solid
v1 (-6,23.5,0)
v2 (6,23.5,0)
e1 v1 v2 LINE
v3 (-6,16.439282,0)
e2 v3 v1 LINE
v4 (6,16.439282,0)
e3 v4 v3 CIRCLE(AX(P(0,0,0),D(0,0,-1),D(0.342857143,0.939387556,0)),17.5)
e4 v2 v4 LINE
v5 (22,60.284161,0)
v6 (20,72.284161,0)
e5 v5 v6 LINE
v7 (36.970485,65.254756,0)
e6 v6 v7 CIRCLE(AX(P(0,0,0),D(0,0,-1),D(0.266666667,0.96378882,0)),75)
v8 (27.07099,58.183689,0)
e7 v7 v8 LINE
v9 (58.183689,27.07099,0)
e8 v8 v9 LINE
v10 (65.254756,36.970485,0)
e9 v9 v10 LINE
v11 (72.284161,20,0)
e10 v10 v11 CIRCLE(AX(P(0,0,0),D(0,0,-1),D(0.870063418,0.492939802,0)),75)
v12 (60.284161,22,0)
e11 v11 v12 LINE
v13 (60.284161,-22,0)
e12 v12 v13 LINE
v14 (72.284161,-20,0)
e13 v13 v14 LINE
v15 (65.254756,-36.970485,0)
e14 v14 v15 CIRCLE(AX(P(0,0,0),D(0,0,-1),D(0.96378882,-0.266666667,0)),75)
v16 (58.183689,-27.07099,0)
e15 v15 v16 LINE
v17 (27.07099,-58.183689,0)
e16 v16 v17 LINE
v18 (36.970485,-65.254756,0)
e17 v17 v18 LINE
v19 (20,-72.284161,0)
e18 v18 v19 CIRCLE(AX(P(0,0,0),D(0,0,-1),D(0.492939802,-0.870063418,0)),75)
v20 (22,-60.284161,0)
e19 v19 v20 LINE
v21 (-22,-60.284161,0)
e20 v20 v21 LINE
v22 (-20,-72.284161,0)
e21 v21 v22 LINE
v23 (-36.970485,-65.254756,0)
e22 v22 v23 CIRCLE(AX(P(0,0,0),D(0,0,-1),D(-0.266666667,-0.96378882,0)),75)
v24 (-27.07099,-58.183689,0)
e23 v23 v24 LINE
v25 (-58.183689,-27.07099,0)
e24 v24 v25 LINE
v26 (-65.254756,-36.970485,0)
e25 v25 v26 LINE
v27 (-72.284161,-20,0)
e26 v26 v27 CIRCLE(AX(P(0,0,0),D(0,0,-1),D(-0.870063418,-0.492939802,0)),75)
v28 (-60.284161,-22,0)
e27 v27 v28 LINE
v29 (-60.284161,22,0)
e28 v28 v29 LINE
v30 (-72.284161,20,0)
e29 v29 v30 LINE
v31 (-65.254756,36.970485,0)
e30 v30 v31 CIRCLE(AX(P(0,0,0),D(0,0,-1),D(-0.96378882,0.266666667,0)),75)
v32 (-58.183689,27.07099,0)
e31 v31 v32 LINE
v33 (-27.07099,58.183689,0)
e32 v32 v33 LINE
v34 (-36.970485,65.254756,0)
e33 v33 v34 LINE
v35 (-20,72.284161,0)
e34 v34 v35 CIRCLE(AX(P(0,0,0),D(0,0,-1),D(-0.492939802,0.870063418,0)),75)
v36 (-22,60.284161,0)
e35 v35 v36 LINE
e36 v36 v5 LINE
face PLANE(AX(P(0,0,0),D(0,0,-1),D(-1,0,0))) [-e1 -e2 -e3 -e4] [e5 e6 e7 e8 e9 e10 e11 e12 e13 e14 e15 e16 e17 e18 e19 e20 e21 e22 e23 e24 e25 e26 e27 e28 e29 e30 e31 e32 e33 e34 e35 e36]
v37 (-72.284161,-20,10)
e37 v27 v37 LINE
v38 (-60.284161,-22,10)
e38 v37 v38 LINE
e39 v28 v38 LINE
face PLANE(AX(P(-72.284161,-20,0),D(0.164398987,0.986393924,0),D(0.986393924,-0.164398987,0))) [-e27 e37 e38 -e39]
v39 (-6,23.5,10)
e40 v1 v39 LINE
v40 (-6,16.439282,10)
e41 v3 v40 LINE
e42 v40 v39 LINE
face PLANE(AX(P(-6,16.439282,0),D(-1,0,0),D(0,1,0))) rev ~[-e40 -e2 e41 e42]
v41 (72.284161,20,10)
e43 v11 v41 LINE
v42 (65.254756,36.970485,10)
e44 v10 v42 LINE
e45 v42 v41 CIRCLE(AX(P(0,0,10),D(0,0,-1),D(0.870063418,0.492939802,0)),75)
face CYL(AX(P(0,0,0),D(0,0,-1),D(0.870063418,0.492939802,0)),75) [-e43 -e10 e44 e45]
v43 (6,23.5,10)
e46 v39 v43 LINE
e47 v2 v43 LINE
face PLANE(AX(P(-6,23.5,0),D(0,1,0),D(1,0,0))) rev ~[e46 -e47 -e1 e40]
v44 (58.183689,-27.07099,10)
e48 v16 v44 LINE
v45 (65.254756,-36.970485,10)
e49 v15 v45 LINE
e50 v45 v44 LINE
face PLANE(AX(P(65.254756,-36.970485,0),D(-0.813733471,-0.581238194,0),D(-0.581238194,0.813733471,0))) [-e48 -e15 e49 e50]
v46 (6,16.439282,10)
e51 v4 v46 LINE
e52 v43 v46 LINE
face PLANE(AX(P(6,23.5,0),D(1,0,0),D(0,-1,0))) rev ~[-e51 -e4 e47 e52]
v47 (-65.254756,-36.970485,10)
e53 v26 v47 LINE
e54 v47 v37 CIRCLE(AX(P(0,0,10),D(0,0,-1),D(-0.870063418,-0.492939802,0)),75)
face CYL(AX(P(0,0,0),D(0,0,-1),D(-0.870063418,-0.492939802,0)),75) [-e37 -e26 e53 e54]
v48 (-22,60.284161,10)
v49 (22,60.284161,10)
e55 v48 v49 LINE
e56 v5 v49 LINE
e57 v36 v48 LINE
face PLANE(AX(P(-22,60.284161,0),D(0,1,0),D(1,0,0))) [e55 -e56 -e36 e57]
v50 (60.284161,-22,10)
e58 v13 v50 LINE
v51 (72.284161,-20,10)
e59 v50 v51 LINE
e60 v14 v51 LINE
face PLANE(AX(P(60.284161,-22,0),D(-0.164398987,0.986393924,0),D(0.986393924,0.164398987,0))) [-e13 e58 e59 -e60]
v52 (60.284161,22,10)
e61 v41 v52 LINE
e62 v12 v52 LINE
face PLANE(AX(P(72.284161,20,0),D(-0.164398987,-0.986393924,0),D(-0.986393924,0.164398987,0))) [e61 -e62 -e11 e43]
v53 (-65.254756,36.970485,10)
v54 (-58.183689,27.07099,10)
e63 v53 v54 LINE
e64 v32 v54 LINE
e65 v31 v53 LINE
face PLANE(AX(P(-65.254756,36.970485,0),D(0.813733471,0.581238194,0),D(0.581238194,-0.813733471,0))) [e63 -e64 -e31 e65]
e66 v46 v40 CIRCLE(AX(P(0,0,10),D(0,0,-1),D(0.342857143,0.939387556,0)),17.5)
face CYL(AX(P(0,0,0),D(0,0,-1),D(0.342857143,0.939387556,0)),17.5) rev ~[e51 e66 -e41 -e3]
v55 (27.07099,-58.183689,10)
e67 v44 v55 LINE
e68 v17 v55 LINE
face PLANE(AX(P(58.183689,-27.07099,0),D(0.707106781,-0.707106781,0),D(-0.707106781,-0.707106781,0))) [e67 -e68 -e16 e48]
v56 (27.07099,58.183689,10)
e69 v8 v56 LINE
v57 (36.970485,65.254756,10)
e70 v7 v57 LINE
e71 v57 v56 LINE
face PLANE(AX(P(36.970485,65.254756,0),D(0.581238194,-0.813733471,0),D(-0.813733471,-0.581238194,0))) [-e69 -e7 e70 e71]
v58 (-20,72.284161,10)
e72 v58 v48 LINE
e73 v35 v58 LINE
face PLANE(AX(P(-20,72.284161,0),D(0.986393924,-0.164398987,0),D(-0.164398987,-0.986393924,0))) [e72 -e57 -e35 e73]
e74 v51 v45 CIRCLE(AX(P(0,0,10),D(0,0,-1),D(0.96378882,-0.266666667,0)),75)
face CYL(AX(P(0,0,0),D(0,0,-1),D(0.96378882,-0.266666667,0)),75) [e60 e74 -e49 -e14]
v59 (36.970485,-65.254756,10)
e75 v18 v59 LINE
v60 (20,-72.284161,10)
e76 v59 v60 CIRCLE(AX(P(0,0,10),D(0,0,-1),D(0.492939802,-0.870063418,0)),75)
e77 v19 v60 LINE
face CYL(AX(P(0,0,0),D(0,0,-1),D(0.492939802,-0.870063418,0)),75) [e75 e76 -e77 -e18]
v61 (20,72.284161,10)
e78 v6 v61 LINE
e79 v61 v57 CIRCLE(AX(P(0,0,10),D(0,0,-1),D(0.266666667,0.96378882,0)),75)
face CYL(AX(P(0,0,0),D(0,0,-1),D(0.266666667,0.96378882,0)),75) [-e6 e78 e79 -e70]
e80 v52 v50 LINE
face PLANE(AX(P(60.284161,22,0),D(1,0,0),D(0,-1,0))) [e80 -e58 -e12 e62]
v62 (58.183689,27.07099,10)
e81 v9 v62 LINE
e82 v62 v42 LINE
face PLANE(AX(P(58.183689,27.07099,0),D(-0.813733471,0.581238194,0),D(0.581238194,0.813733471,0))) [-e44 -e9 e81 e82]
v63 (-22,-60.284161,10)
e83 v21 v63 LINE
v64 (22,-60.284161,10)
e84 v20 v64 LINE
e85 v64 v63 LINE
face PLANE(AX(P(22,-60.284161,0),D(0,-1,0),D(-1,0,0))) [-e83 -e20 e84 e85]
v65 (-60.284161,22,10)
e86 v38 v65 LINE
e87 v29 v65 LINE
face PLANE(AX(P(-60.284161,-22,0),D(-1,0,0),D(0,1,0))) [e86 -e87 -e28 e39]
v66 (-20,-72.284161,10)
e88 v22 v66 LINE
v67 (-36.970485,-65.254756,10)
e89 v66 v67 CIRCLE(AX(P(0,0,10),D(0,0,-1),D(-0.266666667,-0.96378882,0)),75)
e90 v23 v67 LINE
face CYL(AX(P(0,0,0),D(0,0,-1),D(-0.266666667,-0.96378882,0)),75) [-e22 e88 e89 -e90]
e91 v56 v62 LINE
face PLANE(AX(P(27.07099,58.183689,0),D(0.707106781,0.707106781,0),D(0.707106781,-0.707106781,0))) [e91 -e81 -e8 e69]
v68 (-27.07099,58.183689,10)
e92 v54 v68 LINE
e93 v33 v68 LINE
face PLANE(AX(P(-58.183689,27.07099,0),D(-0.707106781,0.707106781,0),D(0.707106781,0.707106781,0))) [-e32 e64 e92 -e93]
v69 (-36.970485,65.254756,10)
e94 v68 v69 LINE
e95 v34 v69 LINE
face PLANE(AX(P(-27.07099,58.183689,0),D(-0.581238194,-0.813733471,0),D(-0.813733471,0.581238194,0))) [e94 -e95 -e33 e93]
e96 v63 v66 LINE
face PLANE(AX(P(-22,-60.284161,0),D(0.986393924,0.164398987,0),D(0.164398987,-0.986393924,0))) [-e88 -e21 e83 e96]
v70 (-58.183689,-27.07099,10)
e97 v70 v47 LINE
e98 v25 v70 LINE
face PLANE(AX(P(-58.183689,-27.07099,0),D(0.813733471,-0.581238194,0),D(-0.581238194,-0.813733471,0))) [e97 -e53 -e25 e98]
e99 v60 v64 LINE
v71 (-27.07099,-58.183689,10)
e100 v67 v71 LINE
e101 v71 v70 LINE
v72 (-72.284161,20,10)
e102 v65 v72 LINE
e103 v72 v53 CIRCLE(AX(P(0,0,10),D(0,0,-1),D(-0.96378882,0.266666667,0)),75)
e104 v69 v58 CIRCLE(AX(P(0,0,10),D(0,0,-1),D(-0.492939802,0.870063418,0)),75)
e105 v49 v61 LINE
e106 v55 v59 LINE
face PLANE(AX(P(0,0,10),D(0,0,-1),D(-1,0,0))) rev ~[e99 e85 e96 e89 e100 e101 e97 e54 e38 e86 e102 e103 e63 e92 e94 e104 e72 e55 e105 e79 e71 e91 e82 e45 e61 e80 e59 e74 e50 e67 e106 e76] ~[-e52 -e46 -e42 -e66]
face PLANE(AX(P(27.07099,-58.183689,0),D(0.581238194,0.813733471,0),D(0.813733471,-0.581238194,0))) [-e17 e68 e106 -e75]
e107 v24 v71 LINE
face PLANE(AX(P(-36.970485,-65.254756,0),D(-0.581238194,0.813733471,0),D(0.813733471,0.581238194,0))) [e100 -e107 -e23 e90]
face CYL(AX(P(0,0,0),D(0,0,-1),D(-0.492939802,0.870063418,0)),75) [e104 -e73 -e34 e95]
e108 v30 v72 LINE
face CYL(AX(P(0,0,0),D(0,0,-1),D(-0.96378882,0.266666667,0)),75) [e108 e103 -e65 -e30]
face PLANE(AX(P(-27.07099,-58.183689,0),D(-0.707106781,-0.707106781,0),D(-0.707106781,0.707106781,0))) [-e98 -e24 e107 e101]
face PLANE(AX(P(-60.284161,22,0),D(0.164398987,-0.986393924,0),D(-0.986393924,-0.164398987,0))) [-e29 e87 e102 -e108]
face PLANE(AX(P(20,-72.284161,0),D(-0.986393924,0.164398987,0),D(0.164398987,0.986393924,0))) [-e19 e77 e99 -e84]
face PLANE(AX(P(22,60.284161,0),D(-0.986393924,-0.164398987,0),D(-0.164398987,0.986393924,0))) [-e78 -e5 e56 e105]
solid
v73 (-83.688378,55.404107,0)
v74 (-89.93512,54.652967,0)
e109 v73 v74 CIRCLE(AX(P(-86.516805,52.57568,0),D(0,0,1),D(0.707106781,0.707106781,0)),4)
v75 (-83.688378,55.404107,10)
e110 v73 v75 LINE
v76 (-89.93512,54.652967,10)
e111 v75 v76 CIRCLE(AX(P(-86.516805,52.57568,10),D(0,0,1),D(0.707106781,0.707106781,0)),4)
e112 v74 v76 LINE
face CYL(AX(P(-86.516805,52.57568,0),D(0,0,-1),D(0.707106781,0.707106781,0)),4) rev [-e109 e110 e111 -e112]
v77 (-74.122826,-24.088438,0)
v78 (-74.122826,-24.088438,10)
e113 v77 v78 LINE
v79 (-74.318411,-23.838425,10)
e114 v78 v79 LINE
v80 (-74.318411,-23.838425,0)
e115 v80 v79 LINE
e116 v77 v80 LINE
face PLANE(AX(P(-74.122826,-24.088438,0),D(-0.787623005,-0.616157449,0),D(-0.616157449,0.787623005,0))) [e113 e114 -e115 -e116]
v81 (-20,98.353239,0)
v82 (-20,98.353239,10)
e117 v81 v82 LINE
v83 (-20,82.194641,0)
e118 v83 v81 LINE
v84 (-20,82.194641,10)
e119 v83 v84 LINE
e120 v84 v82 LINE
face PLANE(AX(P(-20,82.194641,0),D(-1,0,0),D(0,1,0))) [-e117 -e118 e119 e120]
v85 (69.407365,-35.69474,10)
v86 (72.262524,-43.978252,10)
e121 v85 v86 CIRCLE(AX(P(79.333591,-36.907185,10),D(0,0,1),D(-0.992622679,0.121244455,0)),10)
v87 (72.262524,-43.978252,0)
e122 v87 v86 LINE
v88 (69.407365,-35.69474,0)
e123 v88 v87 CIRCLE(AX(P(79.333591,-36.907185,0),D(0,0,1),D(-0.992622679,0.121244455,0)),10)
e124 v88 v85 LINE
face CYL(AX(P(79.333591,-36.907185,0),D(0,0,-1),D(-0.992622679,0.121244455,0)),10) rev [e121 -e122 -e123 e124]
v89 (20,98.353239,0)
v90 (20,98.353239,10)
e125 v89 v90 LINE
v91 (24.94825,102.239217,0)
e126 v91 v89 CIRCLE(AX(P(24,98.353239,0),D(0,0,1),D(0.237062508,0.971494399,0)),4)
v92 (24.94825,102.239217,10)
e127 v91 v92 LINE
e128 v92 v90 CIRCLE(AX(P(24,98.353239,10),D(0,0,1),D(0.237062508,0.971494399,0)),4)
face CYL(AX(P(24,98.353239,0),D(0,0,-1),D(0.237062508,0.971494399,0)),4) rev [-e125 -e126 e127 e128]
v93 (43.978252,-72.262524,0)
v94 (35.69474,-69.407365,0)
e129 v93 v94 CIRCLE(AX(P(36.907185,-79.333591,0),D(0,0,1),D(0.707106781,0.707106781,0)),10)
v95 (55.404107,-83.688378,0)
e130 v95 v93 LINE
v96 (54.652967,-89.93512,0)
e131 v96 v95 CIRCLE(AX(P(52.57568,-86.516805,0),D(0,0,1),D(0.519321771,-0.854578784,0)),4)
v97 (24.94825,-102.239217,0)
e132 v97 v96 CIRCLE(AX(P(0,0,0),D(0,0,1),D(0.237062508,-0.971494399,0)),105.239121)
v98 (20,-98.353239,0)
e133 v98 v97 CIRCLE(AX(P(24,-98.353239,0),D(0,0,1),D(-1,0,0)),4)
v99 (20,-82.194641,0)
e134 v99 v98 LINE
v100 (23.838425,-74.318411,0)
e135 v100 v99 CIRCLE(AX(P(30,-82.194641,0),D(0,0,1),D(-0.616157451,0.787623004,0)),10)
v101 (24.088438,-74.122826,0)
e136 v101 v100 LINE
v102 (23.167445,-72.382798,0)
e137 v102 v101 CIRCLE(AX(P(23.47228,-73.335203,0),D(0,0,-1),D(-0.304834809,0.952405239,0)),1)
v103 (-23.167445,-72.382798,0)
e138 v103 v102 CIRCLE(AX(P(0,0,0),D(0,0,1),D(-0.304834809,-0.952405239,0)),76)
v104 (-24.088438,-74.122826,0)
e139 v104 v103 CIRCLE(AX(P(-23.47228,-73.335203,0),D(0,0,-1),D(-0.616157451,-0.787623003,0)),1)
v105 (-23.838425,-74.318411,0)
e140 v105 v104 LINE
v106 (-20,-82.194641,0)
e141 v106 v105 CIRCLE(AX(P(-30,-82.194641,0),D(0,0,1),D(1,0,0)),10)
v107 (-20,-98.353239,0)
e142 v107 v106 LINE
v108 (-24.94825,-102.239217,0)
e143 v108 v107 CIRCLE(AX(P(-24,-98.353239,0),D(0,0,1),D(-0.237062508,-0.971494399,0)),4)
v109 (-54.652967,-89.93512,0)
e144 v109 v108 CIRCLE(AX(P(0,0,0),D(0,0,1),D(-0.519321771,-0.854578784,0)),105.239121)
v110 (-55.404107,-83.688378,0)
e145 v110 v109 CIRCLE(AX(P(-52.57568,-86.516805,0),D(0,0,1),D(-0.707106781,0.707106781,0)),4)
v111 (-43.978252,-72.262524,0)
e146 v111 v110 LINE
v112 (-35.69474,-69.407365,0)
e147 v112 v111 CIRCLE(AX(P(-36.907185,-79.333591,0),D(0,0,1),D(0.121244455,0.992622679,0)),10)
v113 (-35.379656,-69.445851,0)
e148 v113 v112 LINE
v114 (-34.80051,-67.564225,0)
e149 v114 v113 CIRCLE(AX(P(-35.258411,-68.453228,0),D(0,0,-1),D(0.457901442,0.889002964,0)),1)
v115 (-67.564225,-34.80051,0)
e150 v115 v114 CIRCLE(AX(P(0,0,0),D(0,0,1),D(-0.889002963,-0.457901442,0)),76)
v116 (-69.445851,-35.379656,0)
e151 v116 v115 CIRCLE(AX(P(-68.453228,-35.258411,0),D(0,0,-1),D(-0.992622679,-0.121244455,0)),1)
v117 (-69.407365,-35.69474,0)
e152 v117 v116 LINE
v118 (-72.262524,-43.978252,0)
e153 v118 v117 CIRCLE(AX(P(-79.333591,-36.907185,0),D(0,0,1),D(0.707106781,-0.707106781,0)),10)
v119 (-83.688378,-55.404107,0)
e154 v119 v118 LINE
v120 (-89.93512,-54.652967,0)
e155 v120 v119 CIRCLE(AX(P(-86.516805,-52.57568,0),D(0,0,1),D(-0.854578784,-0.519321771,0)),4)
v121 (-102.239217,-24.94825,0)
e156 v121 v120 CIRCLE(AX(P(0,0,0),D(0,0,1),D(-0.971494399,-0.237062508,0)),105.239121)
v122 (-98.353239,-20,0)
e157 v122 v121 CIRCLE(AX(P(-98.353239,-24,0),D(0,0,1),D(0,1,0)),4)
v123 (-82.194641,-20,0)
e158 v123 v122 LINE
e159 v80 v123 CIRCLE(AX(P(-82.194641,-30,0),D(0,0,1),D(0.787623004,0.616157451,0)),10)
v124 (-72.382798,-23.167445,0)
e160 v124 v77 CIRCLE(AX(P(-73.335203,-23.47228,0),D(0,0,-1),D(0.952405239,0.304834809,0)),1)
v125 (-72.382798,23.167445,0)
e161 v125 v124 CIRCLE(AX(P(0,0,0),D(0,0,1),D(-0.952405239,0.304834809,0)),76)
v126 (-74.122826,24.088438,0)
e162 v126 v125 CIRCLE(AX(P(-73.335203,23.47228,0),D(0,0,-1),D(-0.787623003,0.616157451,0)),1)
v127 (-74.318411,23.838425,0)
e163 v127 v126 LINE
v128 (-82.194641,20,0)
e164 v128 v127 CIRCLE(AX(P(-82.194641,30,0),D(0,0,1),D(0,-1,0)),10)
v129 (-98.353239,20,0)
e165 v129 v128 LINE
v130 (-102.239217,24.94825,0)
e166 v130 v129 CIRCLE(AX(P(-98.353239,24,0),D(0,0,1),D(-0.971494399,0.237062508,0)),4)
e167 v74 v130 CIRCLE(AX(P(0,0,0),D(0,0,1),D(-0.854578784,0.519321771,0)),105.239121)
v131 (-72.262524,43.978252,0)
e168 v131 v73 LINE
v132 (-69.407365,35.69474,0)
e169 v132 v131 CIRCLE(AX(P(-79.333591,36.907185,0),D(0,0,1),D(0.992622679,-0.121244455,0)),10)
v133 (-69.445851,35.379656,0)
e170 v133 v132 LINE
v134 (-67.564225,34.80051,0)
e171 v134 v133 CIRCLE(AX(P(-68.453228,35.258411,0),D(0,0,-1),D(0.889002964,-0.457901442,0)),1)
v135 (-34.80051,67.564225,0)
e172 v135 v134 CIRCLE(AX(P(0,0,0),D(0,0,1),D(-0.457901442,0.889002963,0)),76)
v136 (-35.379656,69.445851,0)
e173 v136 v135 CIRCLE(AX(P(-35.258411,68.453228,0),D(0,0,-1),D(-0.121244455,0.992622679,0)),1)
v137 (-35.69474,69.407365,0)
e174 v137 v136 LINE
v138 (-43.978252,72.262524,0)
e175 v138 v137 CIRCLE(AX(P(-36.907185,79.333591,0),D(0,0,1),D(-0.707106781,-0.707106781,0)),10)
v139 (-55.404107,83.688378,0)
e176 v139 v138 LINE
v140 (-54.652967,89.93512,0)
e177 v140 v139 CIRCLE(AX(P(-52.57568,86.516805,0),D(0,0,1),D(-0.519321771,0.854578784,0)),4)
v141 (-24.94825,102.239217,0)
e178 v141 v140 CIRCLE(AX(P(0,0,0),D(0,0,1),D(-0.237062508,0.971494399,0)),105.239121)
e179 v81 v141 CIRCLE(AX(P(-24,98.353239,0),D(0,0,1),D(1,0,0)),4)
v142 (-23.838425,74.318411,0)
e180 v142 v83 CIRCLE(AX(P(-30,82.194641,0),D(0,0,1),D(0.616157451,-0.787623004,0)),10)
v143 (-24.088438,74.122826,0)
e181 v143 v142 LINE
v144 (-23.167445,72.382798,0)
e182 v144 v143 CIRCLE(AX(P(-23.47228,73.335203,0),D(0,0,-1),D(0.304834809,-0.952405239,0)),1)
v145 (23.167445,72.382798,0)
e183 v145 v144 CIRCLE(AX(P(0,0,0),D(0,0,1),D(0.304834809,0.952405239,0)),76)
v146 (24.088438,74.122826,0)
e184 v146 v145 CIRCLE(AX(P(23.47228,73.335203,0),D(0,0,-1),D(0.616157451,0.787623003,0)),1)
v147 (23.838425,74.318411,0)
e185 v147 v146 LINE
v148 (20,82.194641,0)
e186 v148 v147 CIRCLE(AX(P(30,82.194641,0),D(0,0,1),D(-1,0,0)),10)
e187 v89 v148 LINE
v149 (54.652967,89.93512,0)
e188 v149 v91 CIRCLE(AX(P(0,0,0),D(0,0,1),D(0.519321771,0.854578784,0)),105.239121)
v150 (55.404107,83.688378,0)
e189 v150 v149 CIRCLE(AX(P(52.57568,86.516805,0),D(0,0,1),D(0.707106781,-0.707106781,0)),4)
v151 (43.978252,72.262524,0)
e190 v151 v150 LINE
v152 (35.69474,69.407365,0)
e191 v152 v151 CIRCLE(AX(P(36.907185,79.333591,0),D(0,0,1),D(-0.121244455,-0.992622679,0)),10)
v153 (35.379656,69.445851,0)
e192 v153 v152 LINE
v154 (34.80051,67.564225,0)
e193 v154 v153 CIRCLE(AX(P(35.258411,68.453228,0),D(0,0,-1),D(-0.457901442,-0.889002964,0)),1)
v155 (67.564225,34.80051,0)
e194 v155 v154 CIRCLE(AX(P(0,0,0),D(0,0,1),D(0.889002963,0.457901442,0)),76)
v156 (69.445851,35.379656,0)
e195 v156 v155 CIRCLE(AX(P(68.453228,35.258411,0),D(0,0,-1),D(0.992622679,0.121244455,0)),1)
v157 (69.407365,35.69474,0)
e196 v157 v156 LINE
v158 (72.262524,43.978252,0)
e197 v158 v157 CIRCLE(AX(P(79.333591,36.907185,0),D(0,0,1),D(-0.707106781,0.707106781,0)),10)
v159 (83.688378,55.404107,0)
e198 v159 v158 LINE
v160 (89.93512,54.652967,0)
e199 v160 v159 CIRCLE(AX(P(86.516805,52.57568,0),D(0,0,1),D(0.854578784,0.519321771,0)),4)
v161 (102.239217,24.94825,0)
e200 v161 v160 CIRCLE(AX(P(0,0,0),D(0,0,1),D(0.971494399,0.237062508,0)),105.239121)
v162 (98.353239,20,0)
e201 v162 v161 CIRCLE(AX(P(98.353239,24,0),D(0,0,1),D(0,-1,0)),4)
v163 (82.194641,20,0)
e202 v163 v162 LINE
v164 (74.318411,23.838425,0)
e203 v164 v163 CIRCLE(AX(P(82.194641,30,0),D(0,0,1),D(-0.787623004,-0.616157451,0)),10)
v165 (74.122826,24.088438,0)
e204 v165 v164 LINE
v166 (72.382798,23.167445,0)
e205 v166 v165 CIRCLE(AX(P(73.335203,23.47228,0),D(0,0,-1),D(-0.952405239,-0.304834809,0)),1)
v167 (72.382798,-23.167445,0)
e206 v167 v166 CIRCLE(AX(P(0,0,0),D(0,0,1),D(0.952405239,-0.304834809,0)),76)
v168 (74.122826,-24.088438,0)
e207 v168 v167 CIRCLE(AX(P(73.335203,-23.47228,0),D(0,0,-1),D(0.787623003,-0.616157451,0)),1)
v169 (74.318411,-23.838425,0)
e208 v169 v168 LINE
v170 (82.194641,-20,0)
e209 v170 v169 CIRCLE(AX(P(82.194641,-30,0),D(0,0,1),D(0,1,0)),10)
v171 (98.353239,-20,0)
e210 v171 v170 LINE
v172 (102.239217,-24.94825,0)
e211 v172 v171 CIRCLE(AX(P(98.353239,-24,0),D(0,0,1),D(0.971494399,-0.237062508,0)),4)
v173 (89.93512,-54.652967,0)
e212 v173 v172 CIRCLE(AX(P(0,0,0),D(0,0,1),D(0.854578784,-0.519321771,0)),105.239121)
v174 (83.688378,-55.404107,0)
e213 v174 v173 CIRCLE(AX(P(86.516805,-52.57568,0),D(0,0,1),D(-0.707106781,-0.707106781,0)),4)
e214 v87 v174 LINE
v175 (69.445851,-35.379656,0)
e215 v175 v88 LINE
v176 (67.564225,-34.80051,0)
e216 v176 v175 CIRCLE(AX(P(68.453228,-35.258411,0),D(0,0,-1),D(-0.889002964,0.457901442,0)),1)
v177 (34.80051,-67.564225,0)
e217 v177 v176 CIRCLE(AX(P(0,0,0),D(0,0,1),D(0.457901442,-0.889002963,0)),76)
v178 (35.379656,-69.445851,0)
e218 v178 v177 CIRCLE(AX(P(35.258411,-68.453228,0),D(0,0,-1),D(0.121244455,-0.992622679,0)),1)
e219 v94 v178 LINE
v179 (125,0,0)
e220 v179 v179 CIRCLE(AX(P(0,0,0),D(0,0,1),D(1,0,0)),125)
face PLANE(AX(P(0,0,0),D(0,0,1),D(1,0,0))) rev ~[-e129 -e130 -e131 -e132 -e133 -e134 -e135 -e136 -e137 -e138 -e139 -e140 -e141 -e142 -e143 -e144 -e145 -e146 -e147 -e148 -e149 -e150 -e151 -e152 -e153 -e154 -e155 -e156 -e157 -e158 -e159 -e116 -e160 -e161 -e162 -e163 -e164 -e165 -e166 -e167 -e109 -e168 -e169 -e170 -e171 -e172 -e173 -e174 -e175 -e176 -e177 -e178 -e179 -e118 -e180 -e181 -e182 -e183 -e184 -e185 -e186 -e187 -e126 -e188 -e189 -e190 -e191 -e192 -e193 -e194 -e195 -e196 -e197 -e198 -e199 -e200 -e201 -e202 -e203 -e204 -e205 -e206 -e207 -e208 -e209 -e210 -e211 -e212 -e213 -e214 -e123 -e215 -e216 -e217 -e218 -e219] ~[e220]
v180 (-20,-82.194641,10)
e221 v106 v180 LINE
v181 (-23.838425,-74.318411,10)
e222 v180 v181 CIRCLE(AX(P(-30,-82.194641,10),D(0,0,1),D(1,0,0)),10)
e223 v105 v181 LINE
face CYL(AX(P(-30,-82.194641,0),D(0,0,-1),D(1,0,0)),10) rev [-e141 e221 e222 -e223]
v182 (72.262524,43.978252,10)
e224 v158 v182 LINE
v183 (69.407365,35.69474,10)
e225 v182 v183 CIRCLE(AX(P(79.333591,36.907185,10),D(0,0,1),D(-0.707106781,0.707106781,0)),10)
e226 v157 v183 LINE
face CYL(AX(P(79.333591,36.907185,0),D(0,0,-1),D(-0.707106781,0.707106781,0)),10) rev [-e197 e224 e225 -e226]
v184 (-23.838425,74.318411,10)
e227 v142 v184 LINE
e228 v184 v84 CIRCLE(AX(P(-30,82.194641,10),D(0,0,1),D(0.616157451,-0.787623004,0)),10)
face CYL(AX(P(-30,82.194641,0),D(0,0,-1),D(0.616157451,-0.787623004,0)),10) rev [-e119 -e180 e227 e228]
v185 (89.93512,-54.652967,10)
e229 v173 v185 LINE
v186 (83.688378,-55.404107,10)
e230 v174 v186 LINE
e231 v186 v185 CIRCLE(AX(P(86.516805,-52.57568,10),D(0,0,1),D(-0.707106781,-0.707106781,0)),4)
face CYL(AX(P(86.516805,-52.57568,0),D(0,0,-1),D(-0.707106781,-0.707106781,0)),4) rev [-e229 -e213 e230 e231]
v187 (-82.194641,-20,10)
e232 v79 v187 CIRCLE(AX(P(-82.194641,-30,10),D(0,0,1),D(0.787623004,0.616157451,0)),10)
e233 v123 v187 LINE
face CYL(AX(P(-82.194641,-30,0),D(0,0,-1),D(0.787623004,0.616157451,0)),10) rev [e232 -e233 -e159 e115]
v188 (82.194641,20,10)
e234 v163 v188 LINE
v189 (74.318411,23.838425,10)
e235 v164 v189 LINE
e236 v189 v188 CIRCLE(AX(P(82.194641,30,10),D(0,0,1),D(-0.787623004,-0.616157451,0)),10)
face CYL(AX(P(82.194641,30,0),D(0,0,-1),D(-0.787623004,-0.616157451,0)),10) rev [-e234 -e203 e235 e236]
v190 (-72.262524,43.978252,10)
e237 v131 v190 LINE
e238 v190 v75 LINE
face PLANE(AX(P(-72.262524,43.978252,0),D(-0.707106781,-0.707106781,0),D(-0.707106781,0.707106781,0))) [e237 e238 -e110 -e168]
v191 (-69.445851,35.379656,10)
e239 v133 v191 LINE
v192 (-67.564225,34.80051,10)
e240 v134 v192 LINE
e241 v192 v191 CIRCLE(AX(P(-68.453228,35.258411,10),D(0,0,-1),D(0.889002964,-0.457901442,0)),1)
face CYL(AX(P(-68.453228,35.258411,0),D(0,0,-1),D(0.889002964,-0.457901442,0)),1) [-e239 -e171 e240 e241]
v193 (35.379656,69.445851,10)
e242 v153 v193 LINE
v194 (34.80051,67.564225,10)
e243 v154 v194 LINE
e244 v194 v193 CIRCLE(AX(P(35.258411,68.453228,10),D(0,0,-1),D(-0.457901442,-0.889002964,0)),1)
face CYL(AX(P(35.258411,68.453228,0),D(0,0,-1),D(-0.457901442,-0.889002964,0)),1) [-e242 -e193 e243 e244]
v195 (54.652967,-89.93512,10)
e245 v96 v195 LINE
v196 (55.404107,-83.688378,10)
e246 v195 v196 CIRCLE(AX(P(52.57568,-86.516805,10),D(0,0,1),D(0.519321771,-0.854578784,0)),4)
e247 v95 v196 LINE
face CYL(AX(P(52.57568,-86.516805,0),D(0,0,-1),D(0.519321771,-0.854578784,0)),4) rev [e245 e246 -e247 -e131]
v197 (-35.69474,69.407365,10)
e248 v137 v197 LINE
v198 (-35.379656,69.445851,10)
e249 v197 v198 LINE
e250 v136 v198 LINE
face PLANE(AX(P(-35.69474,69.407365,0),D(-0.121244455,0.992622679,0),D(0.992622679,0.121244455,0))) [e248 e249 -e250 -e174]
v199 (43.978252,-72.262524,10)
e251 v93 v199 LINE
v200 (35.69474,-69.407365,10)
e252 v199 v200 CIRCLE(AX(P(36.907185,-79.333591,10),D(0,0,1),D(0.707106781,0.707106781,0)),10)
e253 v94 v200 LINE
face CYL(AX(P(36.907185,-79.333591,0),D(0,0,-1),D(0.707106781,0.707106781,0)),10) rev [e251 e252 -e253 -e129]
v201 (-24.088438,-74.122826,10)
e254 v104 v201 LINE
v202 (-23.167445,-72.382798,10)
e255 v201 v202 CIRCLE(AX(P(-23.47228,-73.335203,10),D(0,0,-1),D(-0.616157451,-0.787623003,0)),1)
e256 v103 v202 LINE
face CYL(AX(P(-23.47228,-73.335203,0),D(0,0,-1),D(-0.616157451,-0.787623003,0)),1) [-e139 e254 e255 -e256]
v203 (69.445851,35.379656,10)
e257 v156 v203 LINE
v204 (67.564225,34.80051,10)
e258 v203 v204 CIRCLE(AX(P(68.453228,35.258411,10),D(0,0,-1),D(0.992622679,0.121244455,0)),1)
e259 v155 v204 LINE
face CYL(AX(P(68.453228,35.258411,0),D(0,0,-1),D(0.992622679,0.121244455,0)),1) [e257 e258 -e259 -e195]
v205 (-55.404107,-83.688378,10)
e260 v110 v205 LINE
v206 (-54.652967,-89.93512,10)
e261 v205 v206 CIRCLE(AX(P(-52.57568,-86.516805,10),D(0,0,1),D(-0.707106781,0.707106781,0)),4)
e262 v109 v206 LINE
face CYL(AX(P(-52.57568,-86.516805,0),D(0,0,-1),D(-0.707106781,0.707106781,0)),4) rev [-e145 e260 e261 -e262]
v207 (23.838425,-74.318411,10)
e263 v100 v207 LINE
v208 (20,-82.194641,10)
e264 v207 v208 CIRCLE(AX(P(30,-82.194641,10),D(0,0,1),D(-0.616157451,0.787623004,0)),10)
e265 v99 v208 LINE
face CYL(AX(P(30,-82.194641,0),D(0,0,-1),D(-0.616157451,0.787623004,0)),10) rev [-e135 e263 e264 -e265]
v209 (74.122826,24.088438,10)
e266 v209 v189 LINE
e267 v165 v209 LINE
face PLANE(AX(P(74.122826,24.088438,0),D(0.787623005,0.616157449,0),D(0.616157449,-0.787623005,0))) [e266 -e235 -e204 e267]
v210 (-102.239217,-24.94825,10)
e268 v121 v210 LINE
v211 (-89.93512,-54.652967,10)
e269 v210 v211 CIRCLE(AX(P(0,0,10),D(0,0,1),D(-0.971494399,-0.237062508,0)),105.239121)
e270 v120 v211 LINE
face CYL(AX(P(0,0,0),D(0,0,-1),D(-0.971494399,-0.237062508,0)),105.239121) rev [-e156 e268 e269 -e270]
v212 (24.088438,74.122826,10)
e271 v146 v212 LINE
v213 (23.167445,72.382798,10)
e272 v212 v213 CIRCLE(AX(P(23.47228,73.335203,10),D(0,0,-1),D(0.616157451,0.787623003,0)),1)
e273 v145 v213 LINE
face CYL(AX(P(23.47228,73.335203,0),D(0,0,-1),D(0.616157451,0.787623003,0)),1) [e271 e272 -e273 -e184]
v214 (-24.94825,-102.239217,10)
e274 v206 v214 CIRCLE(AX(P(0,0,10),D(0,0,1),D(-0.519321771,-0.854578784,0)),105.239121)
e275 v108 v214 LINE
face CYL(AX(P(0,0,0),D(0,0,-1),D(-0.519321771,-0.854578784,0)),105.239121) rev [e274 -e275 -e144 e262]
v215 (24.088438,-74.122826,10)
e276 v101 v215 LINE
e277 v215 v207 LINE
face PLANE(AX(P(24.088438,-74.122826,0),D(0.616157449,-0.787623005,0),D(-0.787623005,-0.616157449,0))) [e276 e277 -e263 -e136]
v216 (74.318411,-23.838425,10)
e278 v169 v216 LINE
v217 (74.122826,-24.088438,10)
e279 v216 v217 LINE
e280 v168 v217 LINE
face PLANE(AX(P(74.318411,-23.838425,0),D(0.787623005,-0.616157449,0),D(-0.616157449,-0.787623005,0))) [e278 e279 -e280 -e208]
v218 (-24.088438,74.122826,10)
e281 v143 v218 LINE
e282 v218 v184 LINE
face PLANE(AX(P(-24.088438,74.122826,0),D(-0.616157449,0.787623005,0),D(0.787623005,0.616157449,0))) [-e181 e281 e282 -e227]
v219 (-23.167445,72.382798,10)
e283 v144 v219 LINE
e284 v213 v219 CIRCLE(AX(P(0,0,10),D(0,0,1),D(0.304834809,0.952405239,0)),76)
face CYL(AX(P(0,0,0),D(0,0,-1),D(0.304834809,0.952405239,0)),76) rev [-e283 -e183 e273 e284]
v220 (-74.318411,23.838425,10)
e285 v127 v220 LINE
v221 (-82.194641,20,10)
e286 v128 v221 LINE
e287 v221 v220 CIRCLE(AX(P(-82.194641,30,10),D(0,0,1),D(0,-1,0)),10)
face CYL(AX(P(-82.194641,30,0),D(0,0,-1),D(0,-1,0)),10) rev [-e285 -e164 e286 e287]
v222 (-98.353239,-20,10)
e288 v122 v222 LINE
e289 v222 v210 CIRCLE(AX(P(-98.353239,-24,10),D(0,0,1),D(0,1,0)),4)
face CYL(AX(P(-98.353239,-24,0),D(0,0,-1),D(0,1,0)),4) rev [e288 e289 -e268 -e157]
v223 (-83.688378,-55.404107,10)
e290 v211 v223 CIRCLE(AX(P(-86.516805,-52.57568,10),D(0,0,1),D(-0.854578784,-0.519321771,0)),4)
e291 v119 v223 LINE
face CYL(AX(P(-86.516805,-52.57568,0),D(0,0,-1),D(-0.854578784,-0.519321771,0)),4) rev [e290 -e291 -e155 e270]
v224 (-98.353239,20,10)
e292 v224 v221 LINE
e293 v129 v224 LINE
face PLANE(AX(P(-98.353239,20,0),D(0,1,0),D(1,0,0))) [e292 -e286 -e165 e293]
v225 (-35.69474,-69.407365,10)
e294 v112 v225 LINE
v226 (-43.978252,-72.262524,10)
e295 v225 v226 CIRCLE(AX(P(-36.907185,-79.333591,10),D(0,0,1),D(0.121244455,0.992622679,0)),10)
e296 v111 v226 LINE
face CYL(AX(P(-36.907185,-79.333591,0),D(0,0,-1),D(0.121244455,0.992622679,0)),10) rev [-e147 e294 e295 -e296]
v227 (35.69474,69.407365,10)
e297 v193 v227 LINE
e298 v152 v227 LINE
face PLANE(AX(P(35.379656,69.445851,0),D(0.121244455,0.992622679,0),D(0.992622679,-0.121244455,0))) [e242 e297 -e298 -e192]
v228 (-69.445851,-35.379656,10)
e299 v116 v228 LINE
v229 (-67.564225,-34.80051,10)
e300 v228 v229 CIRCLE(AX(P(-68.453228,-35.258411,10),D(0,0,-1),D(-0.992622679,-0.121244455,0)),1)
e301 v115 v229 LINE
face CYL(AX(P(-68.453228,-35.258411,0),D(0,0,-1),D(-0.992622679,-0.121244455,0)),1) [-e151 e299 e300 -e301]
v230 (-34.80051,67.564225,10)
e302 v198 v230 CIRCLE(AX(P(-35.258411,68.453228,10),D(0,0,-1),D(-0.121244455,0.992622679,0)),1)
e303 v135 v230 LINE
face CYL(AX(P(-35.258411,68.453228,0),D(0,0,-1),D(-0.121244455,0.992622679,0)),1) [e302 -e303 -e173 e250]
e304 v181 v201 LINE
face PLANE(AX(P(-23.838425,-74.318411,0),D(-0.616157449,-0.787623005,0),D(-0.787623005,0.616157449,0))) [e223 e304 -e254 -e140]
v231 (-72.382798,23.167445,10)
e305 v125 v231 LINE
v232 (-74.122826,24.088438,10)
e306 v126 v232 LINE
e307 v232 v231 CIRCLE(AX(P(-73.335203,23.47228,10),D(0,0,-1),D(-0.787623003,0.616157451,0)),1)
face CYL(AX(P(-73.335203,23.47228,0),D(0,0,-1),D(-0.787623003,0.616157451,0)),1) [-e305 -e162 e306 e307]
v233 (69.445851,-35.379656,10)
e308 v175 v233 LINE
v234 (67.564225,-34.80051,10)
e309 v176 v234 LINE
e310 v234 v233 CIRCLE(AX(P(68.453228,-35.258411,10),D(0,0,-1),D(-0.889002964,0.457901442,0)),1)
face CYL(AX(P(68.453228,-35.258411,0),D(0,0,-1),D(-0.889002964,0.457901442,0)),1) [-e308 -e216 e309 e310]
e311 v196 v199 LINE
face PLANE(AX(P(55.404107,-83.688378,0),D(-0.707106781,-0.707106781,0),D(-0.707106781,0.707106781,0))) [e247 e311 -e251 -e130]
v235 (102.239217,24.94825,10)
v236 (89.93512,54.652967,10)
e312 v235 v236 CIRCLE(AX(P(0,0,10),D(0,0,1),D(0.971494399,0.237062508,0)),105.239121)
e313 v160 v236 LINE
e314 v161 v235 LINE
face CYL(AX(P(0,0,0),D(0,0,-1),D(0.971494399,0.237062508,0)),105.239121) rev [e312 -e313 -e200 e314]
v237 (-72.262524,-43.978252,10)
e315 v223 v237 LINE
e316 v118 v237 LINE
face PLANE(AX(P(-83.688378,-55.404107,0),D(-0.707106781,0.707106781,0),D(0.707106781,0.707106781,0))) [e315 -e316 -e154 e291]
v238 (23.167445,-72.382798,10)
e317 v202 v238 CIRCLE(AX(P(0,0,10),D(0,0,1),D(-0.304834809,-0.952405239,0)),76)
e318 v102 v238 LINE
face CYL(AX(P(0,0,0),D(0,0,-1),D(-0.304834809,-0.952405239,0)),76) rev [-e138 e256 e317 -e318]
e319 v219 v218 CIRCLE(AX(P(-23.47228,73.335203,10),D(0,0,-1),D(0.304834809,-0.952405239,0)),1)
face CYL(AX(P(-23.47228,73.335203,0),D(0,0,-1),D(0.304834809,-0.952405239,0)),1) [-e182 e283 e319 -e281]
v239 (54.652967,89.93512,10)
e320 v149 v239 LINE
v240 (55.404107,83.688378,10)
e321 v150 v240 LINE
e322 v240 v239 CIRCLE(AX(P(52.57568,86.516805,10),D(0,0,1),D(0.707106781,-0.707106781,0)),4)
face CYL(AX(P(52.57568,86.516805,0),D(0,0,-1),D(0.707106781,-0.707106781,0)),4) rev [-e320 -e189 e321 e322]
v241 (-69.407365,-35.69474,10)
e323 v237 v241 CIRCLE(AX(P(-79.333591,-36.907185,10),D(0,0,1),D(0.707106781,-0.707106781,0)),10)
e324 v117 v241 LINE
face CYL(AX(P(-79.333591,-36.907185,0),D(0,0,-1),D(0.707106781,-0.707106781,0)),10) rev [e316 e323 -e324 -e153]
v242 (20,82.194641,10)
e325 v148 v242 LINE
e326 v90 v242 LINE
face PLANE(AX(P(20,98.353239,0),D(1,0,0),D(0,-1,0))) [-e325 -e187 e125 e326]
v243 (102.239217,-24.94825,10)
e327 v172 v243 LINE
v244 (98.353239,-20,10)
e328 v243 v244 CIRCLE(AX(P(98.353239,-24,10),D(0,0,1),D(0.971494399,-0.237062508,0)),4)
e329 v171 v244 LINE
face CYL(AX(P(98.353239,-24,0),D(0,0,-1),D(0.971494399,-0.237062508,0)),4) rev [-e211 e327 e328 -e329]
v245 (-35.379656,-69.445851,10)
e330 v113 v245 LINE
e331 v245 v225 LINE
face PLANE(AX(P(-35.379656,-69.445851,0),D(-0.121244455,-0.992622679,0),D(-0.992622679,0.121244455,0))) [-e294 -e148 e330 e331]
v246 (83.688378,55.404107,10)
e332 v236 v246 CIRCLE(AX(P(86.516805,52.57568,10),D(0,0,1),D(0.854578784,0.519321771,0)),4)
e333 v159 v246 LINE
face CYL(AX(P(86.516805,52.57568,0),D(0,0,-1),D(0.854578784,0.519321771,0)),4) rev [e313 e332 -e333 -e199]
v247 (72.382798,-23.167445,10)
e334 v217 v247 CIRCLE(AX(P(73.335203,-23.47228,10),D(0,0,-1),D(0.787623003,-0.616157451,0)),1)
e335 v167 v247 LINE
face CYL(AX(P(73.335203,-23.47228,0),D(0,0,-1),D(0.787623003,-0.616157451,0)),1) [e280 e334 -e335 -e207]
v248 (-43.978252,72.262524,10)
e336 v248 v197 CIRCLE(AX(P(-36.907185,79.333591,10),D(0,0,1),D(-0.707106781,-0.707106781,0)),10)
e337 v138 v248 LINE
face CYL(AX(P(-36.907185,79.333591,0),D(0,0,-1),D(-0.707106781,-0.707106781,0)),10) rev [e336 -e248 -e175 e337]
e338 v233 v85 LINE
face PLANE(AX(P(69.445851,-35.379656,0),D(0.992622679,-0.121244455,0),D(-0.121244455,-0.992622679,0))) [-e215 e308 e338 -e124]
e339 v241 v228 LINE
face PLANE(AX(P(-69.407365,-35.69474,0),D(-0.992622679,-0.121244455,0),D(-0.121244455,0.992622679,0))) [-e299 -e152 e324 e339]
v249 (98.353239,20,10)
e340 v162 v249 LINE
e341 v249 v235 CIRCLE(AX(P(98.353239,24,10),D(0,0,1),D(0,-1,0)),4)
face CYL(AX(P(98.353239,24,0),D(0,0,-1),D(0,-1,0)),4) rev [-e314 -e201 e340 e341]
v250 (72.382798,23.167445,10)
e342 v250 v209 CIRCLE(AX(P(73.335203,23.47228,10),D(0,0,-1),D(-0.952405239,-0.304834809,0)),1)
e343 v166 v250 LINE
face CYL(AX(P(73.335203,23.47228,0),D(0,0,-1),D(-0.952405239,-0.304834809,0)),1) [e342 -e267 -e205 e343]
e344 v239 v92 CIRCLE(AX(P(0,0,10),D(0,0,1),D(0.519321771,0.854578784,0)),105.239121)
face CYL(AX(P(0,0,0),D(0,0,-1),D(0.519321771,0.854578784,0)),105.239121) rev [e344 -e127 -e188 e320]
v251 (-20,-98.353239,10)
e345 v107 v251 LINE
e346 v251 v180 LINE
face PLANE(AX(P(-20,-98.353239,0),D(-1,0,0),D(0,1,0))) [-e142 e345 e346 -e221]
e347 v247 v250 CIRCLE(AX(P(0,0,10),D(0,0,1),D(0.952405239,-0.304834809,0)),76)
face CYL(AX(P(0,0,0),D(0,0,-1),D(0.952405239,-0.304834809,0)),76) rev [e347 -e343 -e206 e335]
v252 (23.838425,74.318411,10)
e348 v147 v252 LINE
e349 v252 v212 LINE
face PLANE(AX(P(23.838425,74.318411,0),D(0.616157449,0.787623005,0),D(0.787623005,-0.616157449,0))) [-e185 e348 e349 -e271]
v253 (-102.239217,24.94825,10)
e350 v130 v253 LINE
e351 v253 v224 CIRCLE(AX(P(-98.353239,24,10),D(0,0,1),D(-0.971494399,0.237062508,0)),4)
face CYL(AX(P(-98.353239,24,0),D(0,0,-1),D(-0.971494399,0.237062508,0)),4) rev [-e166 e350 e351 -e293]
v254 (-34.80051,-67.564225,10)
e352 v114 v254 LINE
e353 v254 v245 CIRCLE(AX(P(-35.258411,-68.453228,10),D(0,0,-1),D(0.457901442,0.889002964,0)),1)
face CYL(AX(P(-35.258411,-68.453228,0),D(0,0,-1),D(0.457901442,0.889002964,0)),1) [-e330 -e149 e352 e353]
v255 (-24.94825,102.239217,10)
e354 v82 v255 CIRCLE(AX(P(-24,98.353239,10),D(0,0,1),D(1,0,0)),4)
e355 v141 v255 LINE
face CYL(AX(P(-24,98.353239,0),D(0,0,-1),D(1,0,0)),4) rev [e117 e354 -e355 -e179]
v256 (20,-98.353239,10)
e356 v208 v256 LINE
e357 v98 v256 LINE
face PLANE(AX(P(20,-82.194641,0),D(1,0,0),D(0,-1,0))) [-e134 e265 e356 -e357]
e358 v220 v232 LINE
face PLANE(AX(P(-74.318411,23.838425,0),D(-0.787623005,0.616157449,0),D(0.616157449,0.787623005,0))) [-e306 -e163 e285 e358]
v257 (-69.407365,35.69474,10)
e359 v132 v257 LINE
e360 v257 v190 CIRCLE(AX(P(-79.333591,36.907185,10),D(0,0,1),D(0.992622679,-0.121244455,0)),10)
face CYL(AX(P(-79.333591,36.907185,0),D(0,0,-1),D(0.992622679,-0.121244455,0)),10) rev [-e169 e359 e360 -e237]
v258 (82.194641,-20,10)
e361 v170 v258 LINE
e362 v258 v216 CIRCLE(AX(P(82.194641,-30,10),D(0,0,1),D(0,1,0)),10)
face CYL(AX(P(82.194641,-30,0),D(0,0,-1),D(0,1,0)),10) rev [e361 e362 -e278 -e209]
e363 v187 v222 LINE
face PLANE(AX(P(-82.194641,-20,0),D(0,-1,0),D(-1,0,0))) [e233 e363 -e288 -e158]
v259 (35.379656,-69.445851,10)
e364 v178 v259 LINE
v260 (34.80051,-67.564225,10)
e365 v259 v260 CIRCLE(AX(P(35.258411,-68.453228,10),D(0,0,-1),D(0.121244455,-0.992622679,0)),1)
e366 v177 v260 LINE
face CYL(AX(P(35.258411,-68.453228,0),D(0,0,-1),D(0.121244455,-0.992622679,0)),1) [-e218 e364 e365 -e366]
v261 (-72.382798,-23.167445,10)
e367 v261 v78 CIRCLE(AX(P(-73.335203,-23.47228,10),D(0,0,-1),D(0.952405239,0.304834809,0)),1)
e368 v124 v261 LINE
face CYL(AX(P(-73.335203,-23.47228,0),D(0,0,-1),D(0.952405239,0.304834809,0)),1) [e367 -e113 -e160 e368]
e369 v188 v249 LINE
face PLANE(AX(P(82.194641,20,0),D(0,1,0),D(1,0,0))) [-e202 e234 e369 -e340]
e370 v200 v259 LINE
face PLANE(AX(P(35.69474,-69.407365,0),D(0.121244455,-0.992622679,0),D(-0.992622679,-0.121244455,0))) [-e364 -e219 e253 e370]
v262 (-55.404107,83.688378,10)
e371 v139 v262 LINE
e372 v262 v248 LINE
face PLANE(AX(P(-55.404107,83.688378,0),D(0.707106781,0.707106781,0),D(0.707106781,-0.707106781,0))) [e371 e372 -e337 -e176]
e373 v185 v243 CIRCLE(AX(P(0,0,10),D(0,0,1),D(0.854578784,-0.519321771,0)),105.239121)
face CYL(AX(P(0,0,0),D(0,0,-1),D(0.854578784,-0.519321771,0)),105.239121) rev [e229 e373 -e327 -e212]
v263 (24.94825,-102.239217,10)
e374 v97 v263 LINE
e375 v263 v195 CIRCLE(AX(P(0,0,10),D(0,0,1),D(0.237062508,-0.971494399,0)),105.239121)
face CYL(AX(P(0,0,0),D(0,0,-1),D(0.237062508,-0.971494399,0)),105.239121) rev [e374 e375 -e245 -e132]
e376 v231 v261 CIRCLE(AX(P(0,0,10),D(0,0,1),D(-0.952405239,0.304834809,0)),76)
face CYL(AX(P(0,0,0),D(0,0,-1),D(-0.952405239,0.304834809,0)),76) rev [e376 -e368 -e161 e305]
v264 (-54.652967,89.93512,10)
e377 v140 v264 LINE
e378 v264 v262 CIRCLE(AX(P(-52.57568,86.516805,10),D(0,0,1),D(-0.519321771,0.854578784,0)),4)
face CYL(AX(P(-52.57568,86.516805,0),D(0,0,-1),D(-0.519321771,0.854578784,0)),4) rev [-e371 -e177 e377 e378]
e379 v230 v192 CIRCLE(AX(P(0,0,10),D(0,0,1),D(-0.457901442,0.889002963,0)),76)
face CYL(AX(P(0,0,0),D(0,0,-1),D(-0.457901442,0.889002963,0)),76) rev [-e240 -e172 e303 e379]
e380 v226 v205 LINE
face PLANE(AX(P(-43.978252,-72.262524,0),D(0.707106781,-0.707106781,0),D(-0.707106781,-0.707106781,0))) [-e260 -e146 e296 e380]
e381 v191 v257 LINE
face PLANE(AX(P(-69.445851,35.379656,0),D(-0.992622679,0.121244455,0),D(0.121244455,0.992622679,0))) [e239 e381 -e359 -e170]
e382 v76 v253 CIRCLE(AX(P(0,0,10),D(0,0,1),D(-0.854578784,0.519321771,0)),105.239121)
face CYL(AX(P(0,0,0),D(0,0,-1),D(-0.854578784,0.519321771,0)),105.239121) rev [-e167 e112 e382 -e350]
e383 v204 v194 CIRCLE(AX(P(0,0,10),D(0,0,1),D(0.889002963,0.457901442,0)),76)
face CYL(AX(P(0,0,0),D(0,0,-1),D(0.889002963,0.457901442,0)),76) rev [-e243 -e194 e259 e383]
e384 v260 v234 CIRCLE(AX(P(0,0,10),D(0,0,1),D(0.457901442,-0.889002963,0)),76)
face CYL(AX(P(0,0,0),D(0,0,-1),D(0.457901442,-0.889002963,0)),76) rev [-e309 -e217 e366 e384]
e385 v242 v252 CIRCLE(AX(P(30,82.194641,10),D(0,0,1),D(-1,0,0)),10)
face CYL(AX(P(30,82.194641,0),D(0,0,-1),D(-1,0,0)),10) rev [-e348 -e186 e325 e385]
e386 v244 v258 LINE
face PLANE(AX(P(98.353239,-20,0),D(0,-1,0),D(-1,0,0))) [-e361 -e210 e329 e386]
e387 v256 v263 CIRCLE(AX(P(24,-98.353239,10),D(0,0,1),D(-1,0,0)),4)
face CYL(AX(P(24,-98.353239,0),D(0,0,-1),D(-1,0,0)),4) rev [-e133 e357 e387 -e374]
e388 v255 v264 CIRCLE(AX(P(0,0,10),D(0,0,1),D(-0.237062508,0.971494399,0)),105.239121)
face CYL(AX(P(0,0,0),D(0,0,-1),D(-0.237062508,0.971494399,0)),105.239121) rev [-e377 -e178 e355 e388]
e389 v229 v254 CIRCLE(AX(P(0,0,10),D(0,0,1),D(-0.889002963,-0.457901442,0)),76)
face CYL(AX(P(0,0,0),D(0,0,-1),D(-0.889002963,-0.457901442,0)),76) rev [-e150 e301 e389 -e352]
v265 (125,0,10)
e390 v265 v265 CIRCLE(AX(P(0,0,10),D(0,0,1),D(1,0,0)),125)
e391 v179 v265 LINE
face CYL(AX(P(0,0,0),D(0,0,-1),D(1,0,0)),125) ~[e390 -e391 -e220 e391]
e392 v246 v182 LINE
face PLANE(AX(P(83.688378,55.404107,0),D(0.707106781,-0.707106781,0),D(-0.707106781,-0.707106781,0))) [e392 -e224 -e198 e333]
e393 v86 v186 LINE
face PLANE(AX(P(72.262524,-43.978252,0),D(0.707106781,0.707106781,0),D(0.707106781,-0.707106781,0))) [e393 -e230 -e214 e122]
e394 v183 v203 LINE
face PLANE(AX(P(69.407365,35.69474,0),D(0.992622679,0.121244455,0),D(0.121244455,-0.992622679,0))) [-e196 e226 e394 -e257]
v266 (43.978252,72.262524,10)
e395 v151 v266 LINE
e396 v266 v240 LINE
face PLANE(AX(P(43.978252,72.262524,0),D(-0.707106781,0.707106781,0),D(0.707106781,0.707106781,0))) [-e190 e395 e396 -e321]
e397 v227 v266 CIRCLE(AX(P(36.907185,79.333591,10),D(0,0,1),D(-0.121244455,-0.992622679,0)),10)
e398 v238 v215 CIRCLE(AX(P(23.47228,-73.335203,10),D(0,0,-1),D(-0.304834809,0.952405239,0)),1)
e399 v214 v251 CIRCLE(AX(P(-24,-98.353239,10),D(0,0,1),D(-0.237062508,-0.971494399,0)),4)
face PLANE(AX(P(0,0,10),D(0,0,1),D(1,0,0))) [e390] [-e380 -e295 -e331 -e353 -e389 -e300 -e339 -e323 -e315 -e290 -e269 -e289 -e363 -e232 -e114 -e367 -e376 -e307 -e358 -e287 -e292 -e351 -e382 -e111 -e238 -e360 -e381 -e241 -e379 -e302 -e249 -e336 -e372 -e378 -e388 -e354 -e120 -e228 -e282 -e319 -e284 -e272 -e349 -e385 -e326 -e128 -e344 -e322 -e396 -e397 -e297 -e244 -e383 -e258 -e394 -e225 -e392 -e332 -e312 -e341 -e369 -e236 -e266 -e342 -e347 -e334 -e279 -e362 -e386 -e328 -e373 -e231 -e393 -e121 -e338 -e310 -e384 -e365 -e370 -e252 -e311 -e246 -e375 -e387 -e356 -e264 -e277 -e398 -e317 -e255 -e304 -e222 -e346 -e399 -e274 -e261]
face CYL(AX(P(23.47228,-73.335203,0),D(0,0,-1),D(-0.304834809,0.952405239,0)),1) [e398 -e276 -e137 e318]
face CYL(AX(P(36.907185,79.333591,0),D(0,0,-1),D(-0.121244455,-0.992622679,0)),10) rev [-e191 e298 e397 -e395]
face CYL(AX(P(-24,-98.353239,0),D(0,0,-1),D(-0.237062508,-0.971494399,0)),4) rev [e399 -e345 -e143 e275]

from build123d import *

# Parameters (mm, degrees)
IZIM1_R                       = 125
Y_KSEKLIK_EKSTR_ZYON1_DEPTH   = 10
Y_KSEKLIK_EKSTR_ZYON1_2_DEPTH = 10


with BuildPart() as part:
    # Çizim1 → Yükseklik-Ekstrüzyon1 (new body)
    with BuildSketch(Plane.XY):
        Circle(IZIM1_R)
        with BuildLine():
            Line((43.978252414, 72.262523662), (55.404106892, 83.68837814))
            ThreePointArc((55.404106892, 83.68837814), (56.547071865, 86.994345637), (54.65296685, 89.935120402))
            ThreePointArc((54.65296685, 89.935120402), (40.273268186, 97.228270255), (24.948250031, 102.239216974))
            ThreePointArc((24.948250031, 102.239216974), (21.529473753, 101.499109697), (20, 98.353239378))
            Line((20, 98.353239378), (20, 82.194641014))
            ThreePointArc((20, 82.194641014), (21.010680084, 77.813758973), (23.838425491, 74.318410978))
            Line((23.838425491, 74.318410978), (24.088437737, 74.122826407))
            ThreePointArc((24.088437737, 74.122826407), (24.356110031, 72.867394701), (23.167445477, 72.382798164))
            ThreePointArc((23.167445477, 72.382798164), (0, 76), (-23.167445477, 72.382798164))
            ThreePointArc((-23.167445477, 72.382798164), (-24.356110031, 72.867394701), (-24.088437737, 74.122826407))
            Line((-24.088437737, 74.122826407), (-23.838425491, 74.318410978))
            ThreePointArc((-23.838425491, 74.318410978), (-21.010680084, 77.813758973), (-20, 82.194641014))
            Line((-20, 82.194641014), (-20, 98.353239378))
            ThreePointArc((-20, 98.353239378), (-21.529473753, 101.499109697), (-24.948250031, 102.239216974))
            ThreePointArc((-24.948250031, 102.239216974), (-40.273268186, 97.228270255), (-54.65296685, 89.935120402))
            ThreePointArc((-54.65296685, 89.935120402), (-56.547071865, 86.994345637), (-55.404106892, 83.68837814))
            Line((-55.404106892, 83.68837814), (-43.978252414, 72.262523662))
            ThreePointArc((-43.978252414, 72.262523662), (-40.165842274, 69.879431005), (-35.694740052, 69.407364688))
            Line((-35.694740052, 69.407364688), (-35.379655521, 69.445850865))
            ThreePointArc((-35.379655521, 69.445850865), (-34.302658354, 68.747399486), (-34.800509624, 67.564225223))
            ThreePointArc((-34.800509624, 67.564225223), (-53.74011537, 53.74011537), (-67.564225223, 34.800509624))
            ThreePointArc((-67.564225223, 34.800509624), (-68.747399486, 34.302658354), (-69.445850865, 35.379655521))
            Line((-69.445850865, 35.379655521), (-69.407364688, 35.694740052))
            ThreePointArc((-69.407364688, 35.694740052), (-69.879431005, 40.165842274), (-72.262523662, 43.978252414))
            Line((-72.262523662, 43.978252414), (-83.68837814, 55.404106892))
            ThreePointArc((-83.68837814, 55.404106892), (-86.994345637, 56.547071865), (-89.935120402, 54.65296685))
            ThreePointArc((-89.935120402, 54.65296685), (-97.228270255, 40.273268186), (-102.239216974, 24.948250031))
            ThreePointArc((-102.239216974, 24.948250031), (-101.499109697, 21.529473753), (-98.353239378, 20))
            Line((-98.353239378, 20), (-82.194641014, 20))
            ThreePointArc((-82.194641014, 20), (-77.813758973, 21.010680084), (-74.318410978, 23.838425491))
            Line((-74.318410978, 23.838425491), (-74.122826407, 24.088437737))
            ThreePointArc((-74.122826407, 24.088437737), (-72.867394701, 24.356110031), (-72.382798164, 23.167445477))
            ThreePointArc((-72.382798164, 23.167445477), (-76, 0), (-72.382798164, -23.167445477))
            ThreePointArc((-72.382798164, -23.167445477), (-72.867394701, -24.356110031), (-74.122826407, -24.088437737))
            Line((-74.122826407, -24.088437737), (-74.318410978, -23.838425491))
            ThreePointArc((-74.318410978, -23.838425491), (-77.813758973, -21.010680084), (-82.194641014, -20))
            Line((-82.194641014, -20), (-98.353239378, -20))
            ThreePointArc((-98.353239378, -20), (-101.499109697, -21.529473753), (-102.239216974, -24.948250031))
            ThreePointArc((-102.239216974, -24.948250031), (-97.228270255, -40.273268186), (-89.935120402, -54.65296685))
            ThreePointArc((-89.935120402, -54.65296685), (-86.994345637, -56.547071865), (-83.68837814, -55.404106892))
            Line((-83.68837814, -55.404106892), (-72.262523662, -43.978252414))
            ThreePointArc((-72.262523662, -43.978252414), (-69.879431005, -40.165842274), (-69.407364688, -35.694740052))
            Line((-69.407364688, -35.694740052), (-69.445850865, -35.379655521))
            ThreePointArc((-69.445850865, -35.379655521), (-68.747399486, -34.302658354), (-67.564225223, -34.800509624))
            ThreePointArc((-67.564225223, -34.800509624), (-53.74011537, -53.74011537), (-34.800509624, -67.564225223))
            ThreePointArc((-34.800509624, -67.564225223), (-34.302658354, -68.747399486), (-35.379655521, -69.445850865))
            Line((-35.379655521, -69.445850865), (-35.694740052, -69.407364688))
            ThreePointArc((-35.694740052, -69.407364688), (-40.165842274, -69.879431005), (-43.978252414, -72.262523662))
            Line((-43.978252414, -72.262523662), (-55.404106892, -83.68837814))
            ThreePointArc((-55.404106892, -83.68837814), (-56.547071865, -86.994345637), (-54.65296685, -89.935120402))
            ThreePointArc((-54.65296685, -89.935120402), (-40.273268186, -97.228270255), (-24.948250031, -102.239216974))
            ThreePointArc((-24.948250031, -102.239216974), (-21.529473753, -101.499109697), (-20, -98.353239378))
            Line((-20, -98.353239378), (-20, -82.194641014))
            ThreePointArc((-20, -82.194641014), (-21.010680084, -77.813758973), (-23.838425491, -74.318410978))
            Line((-23.838425491, -74.318410978), (-24.088437737, -74.122826407))
            ThreePointArc((-24.088437737, -74.122826407), (-24.356110031, -72.867394701), (-23.167445477, -72.382798164))
            ThreePointArc((-23.167445477, -72.382798164), (0, -76), (23.167445477, -72.382798164))
            ThreePointArc((23.167445477, -72.382798164), (24.356110031, -72.867394701), (24.088437737, -74.122826407))
            Line((24.088437737, -74.122826407), (23.838425491, -74.318410978))
            ThreePointArc((23.838425491, -74.318410978), (21.010680084, -77.813758973), (20, -82.194641014))
            Line((20, -82.194641014), (20, -98.353239378))
            ThreePointArc((20, -98.353239378), (21.529473753, -101.499109697), (24.948250031, -102.239216974))
            ThreePointArc((24.948250031, -102.239216974), (40.273268186, -97.228270255), (54.65296685, -89.935120402))
            ThreePointArc((54.65296685, -89.935120402), (56.547071865, -86.994345637), (55.404106892, -83.68837814))
            Line((55.404106892, -83.68837814), (43.978252414, -72.262523662))
            ThreePointArc((43.978252414, -72.262523662), (40.165842274, -69.879431005), (35.694740052, -69.407364688))
            Line((35.694740052, -69.407364688), (35.379655521, -69.445850865))
            ThreePointArc((35.379655521, -69.445850865), (34.302658354, -68.747399486), (34.800509624, -67.564225223))
            ThreePointArc((34.800509624, -67.564225223), (53.74011537, -53.74011537), (67.564225223, -34.800509624))
            ThreePointArc((67.564225223, -34.800509624), (68.747399486, -34.302658354), (69.445850865, -35.379655521))
            Line((69.445850865, -35.379655521), (69.407364688, -35.694740052))
            ThreePointArc((69.407364688, -35.694740052), (69.879431005, -40.165842274), (72.262523662, -43.978252414))
            Line((72.262523662, -43.978252414), (83.68837814, -55.404106892))
            ThreePointArc((83.68837814, -55.404106892), (86.994345637, -56.547071865), (89.935120402, -54.65296685))
            ThreePointArc((89.935120402, -54.65296685), (97.228270255, -40.273268186), (102.239216974, -24.948250031))
            ThreePointArc((102.239216974, -24.948250031), (101.499109697, -21.529473753), (98.353239378, -20))
            Line((98.353239378, -20), (82.194641014, -20))
            ThreePointArc((82.194641014, -20), (77.813758973, -21.010680084), (74.318410978, -23.838425491))
            Line((74.318410978, -23.838425491), (74.122826407, -24.088437737))
            ThreePointArc((74.122826407, -24.088437737), (72.867394701, -24.356110031), (72.382798164, -23.167445477))
            ThreePointArc((72.382798164, -23.167445477), (76, 0), (72.382798164, 23.167445477))
            ThreePointArc((72.382798164, 23.167445477), (72.867394701, 24.356110031), (74.122826407, 24.088437737))
            Line((74.122826407, 24.088437737), (74.318410978, 23.838425491))
            ThreePointArc((74.318410978, 23.838425491), (77.813758973, 21.010680084), (82.194641014, 20))
            Line((82.194641014, 20), (98.353239378, 20))
            ThreePointArc((98.353239378, 20), (101.499109697, 21.529473753), (102.239216974, 24.948250031))
            ThreePointArc((102.239216974, 24.948250031), (97.228270255, 40.273268186), (89.935120402, 54.65296685))
            ThreePointArc((89.935120402, 54.65296685), (86.994345637, 56.547071865), (83.68837814, 55.404106892))
            Line((83.68837814, 55.404106892), (72.262523662, 43.978252414))
            ThreePointArc((72.262523662, 43.978252414), (69.879431005, 40.165842274), (69.407364688, 35.694740052))
            Line((69.407364688, 35.694740052), (69.445850865, 35.379655521))
            ThreePointArc((69.445850865, 35.379655521), (68.747399486, 34.302658354), (67.564225223, 34.800509624))
            ThreePointArc((67.564225223, 34.800509624), (53.74011537, 53.74011537), (34.800509624, 67.564225223))
            ThreePointArc((34.800509624, 67.564225223), (34.302658354, 68.747399486), (35.379655521, 69.445850865))
            Line((35.379655521, 69.445850865), (35.694740052, 69.407364688))
            ThreePointArc((35.694740052, 69.407364688), (40.165842274, 69.879431005), (43.978252414, 72.262523662))
        make_face(mode=Mode.SUBTRACT)
    extrude(amount=Y_KSEKLIK_EKSTR_ZYON1_DEPTH)


with BuildPart() as body_2:
    # Çizim1 → Y_kseklik-Ekstr_zyon1 2 (new body)
    with BuildSketch(Plane.XY):
        with BuildLine():
            Line((-20, 72.284161474), (-22, 60.284161474))
            Line((-22, 60.284161474), (22, 60.284161474))
            Line((22, 60.284161474), (20, 72.284161474))
            ThreePointArc((20, 72.284161474), (28.701257427, 69.290964938), (36.970485127, 65.254756374))
            Line((36.970485127, 65.254756374), (27.07099019, 58.183688563))
            Line((27.07099019, 58.183688563), (58.183688563, 27.07099019))
            Line((58.183688563, 27.07099019), (65.254756374, 36.970485127))
            ThreePointArc((65.254756374, 36.970485127), (69.290964938, 28.701257427), (72.284161474, 20))
            Line((72.284161474, 20), (60.284161474, 22))
            Line((60.284161474, 22), (60.284161474, -22))
            Line((60.284161474, -22), (72.284161474, -20))
            ThreePointArc((72.284161474, -20), (69.290964938, -28.701257427), (65.254756374, -36.970485127))
            Line((65.254756374, -36.970485127), (58.183688563, -27.07099019))
            Line((58.183688563, -27.07099019), (27.07099019, -58.183688563))
            Line((27.07099019, -58.183688563), (36.970485127, -65.254756374))
            ThreePointArc((36.970485127, -65.254756374), (28.701257427, -69.290964938), (20, -72.284161474))
            Line((20, -72.284161474), (22, -60.284161474))
            Line((22, -60.284161474), (-22, -60.284161474))
            Line((-22, -60.284161474), (-20, -72.284161474))
            ThreePointArc((-20, -72.284161474), (-28.701257427, -69.290964938), (-36.970485127, -65.254756374))
            Line((-36.970485127, -65.254756374), (-27.07099019, -58.183688563))
            Line((-27.07099019, -58.183688563), (-58.183688563, -27.07099019))
            Line((-58.183688563, -27.07099019), (-65.254756374, -36.970485127))
            ThreePointArc((-65.254756374, -36.970485127), (-69.290964938, -28.701257427), (-72.284161474, -20))
            Line((-72.284161474, -20), (-60.284161474, -22))
            Line((-60.284161474, -22), (-60.284161474, 22))
            Line((-60.284161474, 22), (-72.284161474, 20))
            ThreePointArc((-72.284161474, 20), (-69.290964938, 28.701257427), (-65.254756374, 36.970485127))
            Line((-65.254756374, 36.970485127), (-58.183688563, 27.07099019))
            Line((-58.183688563, 27.07099019), (-27.07099019, 58.183688563))
            Line((-27.07099019, 58.183688563), (-36.970485127, 65.254756374))
            ThreePointArc((-36.970485127, 65.254756374), (-28.701257427, 69.290964938), (-20, 72.284161474))
        make_face()
        with BuildLine():
            Line((-6, 23.5), (6, 23.5))
            Line((6, 23.5), (6, 16.439282223))
            ThreePointArc((6, 16.439282223), (0, -17.5), (-6, 16.439282223))
            Line((-6, 16.439282223), (-6, 23.5))
        make_face(mode=Mode.SUBTRACT)
    extrude(amount=Y_KSEKLIK_EKSTR_ZYON1_2_DEPTH)


solid = Compound([part.part, body_2.part])
